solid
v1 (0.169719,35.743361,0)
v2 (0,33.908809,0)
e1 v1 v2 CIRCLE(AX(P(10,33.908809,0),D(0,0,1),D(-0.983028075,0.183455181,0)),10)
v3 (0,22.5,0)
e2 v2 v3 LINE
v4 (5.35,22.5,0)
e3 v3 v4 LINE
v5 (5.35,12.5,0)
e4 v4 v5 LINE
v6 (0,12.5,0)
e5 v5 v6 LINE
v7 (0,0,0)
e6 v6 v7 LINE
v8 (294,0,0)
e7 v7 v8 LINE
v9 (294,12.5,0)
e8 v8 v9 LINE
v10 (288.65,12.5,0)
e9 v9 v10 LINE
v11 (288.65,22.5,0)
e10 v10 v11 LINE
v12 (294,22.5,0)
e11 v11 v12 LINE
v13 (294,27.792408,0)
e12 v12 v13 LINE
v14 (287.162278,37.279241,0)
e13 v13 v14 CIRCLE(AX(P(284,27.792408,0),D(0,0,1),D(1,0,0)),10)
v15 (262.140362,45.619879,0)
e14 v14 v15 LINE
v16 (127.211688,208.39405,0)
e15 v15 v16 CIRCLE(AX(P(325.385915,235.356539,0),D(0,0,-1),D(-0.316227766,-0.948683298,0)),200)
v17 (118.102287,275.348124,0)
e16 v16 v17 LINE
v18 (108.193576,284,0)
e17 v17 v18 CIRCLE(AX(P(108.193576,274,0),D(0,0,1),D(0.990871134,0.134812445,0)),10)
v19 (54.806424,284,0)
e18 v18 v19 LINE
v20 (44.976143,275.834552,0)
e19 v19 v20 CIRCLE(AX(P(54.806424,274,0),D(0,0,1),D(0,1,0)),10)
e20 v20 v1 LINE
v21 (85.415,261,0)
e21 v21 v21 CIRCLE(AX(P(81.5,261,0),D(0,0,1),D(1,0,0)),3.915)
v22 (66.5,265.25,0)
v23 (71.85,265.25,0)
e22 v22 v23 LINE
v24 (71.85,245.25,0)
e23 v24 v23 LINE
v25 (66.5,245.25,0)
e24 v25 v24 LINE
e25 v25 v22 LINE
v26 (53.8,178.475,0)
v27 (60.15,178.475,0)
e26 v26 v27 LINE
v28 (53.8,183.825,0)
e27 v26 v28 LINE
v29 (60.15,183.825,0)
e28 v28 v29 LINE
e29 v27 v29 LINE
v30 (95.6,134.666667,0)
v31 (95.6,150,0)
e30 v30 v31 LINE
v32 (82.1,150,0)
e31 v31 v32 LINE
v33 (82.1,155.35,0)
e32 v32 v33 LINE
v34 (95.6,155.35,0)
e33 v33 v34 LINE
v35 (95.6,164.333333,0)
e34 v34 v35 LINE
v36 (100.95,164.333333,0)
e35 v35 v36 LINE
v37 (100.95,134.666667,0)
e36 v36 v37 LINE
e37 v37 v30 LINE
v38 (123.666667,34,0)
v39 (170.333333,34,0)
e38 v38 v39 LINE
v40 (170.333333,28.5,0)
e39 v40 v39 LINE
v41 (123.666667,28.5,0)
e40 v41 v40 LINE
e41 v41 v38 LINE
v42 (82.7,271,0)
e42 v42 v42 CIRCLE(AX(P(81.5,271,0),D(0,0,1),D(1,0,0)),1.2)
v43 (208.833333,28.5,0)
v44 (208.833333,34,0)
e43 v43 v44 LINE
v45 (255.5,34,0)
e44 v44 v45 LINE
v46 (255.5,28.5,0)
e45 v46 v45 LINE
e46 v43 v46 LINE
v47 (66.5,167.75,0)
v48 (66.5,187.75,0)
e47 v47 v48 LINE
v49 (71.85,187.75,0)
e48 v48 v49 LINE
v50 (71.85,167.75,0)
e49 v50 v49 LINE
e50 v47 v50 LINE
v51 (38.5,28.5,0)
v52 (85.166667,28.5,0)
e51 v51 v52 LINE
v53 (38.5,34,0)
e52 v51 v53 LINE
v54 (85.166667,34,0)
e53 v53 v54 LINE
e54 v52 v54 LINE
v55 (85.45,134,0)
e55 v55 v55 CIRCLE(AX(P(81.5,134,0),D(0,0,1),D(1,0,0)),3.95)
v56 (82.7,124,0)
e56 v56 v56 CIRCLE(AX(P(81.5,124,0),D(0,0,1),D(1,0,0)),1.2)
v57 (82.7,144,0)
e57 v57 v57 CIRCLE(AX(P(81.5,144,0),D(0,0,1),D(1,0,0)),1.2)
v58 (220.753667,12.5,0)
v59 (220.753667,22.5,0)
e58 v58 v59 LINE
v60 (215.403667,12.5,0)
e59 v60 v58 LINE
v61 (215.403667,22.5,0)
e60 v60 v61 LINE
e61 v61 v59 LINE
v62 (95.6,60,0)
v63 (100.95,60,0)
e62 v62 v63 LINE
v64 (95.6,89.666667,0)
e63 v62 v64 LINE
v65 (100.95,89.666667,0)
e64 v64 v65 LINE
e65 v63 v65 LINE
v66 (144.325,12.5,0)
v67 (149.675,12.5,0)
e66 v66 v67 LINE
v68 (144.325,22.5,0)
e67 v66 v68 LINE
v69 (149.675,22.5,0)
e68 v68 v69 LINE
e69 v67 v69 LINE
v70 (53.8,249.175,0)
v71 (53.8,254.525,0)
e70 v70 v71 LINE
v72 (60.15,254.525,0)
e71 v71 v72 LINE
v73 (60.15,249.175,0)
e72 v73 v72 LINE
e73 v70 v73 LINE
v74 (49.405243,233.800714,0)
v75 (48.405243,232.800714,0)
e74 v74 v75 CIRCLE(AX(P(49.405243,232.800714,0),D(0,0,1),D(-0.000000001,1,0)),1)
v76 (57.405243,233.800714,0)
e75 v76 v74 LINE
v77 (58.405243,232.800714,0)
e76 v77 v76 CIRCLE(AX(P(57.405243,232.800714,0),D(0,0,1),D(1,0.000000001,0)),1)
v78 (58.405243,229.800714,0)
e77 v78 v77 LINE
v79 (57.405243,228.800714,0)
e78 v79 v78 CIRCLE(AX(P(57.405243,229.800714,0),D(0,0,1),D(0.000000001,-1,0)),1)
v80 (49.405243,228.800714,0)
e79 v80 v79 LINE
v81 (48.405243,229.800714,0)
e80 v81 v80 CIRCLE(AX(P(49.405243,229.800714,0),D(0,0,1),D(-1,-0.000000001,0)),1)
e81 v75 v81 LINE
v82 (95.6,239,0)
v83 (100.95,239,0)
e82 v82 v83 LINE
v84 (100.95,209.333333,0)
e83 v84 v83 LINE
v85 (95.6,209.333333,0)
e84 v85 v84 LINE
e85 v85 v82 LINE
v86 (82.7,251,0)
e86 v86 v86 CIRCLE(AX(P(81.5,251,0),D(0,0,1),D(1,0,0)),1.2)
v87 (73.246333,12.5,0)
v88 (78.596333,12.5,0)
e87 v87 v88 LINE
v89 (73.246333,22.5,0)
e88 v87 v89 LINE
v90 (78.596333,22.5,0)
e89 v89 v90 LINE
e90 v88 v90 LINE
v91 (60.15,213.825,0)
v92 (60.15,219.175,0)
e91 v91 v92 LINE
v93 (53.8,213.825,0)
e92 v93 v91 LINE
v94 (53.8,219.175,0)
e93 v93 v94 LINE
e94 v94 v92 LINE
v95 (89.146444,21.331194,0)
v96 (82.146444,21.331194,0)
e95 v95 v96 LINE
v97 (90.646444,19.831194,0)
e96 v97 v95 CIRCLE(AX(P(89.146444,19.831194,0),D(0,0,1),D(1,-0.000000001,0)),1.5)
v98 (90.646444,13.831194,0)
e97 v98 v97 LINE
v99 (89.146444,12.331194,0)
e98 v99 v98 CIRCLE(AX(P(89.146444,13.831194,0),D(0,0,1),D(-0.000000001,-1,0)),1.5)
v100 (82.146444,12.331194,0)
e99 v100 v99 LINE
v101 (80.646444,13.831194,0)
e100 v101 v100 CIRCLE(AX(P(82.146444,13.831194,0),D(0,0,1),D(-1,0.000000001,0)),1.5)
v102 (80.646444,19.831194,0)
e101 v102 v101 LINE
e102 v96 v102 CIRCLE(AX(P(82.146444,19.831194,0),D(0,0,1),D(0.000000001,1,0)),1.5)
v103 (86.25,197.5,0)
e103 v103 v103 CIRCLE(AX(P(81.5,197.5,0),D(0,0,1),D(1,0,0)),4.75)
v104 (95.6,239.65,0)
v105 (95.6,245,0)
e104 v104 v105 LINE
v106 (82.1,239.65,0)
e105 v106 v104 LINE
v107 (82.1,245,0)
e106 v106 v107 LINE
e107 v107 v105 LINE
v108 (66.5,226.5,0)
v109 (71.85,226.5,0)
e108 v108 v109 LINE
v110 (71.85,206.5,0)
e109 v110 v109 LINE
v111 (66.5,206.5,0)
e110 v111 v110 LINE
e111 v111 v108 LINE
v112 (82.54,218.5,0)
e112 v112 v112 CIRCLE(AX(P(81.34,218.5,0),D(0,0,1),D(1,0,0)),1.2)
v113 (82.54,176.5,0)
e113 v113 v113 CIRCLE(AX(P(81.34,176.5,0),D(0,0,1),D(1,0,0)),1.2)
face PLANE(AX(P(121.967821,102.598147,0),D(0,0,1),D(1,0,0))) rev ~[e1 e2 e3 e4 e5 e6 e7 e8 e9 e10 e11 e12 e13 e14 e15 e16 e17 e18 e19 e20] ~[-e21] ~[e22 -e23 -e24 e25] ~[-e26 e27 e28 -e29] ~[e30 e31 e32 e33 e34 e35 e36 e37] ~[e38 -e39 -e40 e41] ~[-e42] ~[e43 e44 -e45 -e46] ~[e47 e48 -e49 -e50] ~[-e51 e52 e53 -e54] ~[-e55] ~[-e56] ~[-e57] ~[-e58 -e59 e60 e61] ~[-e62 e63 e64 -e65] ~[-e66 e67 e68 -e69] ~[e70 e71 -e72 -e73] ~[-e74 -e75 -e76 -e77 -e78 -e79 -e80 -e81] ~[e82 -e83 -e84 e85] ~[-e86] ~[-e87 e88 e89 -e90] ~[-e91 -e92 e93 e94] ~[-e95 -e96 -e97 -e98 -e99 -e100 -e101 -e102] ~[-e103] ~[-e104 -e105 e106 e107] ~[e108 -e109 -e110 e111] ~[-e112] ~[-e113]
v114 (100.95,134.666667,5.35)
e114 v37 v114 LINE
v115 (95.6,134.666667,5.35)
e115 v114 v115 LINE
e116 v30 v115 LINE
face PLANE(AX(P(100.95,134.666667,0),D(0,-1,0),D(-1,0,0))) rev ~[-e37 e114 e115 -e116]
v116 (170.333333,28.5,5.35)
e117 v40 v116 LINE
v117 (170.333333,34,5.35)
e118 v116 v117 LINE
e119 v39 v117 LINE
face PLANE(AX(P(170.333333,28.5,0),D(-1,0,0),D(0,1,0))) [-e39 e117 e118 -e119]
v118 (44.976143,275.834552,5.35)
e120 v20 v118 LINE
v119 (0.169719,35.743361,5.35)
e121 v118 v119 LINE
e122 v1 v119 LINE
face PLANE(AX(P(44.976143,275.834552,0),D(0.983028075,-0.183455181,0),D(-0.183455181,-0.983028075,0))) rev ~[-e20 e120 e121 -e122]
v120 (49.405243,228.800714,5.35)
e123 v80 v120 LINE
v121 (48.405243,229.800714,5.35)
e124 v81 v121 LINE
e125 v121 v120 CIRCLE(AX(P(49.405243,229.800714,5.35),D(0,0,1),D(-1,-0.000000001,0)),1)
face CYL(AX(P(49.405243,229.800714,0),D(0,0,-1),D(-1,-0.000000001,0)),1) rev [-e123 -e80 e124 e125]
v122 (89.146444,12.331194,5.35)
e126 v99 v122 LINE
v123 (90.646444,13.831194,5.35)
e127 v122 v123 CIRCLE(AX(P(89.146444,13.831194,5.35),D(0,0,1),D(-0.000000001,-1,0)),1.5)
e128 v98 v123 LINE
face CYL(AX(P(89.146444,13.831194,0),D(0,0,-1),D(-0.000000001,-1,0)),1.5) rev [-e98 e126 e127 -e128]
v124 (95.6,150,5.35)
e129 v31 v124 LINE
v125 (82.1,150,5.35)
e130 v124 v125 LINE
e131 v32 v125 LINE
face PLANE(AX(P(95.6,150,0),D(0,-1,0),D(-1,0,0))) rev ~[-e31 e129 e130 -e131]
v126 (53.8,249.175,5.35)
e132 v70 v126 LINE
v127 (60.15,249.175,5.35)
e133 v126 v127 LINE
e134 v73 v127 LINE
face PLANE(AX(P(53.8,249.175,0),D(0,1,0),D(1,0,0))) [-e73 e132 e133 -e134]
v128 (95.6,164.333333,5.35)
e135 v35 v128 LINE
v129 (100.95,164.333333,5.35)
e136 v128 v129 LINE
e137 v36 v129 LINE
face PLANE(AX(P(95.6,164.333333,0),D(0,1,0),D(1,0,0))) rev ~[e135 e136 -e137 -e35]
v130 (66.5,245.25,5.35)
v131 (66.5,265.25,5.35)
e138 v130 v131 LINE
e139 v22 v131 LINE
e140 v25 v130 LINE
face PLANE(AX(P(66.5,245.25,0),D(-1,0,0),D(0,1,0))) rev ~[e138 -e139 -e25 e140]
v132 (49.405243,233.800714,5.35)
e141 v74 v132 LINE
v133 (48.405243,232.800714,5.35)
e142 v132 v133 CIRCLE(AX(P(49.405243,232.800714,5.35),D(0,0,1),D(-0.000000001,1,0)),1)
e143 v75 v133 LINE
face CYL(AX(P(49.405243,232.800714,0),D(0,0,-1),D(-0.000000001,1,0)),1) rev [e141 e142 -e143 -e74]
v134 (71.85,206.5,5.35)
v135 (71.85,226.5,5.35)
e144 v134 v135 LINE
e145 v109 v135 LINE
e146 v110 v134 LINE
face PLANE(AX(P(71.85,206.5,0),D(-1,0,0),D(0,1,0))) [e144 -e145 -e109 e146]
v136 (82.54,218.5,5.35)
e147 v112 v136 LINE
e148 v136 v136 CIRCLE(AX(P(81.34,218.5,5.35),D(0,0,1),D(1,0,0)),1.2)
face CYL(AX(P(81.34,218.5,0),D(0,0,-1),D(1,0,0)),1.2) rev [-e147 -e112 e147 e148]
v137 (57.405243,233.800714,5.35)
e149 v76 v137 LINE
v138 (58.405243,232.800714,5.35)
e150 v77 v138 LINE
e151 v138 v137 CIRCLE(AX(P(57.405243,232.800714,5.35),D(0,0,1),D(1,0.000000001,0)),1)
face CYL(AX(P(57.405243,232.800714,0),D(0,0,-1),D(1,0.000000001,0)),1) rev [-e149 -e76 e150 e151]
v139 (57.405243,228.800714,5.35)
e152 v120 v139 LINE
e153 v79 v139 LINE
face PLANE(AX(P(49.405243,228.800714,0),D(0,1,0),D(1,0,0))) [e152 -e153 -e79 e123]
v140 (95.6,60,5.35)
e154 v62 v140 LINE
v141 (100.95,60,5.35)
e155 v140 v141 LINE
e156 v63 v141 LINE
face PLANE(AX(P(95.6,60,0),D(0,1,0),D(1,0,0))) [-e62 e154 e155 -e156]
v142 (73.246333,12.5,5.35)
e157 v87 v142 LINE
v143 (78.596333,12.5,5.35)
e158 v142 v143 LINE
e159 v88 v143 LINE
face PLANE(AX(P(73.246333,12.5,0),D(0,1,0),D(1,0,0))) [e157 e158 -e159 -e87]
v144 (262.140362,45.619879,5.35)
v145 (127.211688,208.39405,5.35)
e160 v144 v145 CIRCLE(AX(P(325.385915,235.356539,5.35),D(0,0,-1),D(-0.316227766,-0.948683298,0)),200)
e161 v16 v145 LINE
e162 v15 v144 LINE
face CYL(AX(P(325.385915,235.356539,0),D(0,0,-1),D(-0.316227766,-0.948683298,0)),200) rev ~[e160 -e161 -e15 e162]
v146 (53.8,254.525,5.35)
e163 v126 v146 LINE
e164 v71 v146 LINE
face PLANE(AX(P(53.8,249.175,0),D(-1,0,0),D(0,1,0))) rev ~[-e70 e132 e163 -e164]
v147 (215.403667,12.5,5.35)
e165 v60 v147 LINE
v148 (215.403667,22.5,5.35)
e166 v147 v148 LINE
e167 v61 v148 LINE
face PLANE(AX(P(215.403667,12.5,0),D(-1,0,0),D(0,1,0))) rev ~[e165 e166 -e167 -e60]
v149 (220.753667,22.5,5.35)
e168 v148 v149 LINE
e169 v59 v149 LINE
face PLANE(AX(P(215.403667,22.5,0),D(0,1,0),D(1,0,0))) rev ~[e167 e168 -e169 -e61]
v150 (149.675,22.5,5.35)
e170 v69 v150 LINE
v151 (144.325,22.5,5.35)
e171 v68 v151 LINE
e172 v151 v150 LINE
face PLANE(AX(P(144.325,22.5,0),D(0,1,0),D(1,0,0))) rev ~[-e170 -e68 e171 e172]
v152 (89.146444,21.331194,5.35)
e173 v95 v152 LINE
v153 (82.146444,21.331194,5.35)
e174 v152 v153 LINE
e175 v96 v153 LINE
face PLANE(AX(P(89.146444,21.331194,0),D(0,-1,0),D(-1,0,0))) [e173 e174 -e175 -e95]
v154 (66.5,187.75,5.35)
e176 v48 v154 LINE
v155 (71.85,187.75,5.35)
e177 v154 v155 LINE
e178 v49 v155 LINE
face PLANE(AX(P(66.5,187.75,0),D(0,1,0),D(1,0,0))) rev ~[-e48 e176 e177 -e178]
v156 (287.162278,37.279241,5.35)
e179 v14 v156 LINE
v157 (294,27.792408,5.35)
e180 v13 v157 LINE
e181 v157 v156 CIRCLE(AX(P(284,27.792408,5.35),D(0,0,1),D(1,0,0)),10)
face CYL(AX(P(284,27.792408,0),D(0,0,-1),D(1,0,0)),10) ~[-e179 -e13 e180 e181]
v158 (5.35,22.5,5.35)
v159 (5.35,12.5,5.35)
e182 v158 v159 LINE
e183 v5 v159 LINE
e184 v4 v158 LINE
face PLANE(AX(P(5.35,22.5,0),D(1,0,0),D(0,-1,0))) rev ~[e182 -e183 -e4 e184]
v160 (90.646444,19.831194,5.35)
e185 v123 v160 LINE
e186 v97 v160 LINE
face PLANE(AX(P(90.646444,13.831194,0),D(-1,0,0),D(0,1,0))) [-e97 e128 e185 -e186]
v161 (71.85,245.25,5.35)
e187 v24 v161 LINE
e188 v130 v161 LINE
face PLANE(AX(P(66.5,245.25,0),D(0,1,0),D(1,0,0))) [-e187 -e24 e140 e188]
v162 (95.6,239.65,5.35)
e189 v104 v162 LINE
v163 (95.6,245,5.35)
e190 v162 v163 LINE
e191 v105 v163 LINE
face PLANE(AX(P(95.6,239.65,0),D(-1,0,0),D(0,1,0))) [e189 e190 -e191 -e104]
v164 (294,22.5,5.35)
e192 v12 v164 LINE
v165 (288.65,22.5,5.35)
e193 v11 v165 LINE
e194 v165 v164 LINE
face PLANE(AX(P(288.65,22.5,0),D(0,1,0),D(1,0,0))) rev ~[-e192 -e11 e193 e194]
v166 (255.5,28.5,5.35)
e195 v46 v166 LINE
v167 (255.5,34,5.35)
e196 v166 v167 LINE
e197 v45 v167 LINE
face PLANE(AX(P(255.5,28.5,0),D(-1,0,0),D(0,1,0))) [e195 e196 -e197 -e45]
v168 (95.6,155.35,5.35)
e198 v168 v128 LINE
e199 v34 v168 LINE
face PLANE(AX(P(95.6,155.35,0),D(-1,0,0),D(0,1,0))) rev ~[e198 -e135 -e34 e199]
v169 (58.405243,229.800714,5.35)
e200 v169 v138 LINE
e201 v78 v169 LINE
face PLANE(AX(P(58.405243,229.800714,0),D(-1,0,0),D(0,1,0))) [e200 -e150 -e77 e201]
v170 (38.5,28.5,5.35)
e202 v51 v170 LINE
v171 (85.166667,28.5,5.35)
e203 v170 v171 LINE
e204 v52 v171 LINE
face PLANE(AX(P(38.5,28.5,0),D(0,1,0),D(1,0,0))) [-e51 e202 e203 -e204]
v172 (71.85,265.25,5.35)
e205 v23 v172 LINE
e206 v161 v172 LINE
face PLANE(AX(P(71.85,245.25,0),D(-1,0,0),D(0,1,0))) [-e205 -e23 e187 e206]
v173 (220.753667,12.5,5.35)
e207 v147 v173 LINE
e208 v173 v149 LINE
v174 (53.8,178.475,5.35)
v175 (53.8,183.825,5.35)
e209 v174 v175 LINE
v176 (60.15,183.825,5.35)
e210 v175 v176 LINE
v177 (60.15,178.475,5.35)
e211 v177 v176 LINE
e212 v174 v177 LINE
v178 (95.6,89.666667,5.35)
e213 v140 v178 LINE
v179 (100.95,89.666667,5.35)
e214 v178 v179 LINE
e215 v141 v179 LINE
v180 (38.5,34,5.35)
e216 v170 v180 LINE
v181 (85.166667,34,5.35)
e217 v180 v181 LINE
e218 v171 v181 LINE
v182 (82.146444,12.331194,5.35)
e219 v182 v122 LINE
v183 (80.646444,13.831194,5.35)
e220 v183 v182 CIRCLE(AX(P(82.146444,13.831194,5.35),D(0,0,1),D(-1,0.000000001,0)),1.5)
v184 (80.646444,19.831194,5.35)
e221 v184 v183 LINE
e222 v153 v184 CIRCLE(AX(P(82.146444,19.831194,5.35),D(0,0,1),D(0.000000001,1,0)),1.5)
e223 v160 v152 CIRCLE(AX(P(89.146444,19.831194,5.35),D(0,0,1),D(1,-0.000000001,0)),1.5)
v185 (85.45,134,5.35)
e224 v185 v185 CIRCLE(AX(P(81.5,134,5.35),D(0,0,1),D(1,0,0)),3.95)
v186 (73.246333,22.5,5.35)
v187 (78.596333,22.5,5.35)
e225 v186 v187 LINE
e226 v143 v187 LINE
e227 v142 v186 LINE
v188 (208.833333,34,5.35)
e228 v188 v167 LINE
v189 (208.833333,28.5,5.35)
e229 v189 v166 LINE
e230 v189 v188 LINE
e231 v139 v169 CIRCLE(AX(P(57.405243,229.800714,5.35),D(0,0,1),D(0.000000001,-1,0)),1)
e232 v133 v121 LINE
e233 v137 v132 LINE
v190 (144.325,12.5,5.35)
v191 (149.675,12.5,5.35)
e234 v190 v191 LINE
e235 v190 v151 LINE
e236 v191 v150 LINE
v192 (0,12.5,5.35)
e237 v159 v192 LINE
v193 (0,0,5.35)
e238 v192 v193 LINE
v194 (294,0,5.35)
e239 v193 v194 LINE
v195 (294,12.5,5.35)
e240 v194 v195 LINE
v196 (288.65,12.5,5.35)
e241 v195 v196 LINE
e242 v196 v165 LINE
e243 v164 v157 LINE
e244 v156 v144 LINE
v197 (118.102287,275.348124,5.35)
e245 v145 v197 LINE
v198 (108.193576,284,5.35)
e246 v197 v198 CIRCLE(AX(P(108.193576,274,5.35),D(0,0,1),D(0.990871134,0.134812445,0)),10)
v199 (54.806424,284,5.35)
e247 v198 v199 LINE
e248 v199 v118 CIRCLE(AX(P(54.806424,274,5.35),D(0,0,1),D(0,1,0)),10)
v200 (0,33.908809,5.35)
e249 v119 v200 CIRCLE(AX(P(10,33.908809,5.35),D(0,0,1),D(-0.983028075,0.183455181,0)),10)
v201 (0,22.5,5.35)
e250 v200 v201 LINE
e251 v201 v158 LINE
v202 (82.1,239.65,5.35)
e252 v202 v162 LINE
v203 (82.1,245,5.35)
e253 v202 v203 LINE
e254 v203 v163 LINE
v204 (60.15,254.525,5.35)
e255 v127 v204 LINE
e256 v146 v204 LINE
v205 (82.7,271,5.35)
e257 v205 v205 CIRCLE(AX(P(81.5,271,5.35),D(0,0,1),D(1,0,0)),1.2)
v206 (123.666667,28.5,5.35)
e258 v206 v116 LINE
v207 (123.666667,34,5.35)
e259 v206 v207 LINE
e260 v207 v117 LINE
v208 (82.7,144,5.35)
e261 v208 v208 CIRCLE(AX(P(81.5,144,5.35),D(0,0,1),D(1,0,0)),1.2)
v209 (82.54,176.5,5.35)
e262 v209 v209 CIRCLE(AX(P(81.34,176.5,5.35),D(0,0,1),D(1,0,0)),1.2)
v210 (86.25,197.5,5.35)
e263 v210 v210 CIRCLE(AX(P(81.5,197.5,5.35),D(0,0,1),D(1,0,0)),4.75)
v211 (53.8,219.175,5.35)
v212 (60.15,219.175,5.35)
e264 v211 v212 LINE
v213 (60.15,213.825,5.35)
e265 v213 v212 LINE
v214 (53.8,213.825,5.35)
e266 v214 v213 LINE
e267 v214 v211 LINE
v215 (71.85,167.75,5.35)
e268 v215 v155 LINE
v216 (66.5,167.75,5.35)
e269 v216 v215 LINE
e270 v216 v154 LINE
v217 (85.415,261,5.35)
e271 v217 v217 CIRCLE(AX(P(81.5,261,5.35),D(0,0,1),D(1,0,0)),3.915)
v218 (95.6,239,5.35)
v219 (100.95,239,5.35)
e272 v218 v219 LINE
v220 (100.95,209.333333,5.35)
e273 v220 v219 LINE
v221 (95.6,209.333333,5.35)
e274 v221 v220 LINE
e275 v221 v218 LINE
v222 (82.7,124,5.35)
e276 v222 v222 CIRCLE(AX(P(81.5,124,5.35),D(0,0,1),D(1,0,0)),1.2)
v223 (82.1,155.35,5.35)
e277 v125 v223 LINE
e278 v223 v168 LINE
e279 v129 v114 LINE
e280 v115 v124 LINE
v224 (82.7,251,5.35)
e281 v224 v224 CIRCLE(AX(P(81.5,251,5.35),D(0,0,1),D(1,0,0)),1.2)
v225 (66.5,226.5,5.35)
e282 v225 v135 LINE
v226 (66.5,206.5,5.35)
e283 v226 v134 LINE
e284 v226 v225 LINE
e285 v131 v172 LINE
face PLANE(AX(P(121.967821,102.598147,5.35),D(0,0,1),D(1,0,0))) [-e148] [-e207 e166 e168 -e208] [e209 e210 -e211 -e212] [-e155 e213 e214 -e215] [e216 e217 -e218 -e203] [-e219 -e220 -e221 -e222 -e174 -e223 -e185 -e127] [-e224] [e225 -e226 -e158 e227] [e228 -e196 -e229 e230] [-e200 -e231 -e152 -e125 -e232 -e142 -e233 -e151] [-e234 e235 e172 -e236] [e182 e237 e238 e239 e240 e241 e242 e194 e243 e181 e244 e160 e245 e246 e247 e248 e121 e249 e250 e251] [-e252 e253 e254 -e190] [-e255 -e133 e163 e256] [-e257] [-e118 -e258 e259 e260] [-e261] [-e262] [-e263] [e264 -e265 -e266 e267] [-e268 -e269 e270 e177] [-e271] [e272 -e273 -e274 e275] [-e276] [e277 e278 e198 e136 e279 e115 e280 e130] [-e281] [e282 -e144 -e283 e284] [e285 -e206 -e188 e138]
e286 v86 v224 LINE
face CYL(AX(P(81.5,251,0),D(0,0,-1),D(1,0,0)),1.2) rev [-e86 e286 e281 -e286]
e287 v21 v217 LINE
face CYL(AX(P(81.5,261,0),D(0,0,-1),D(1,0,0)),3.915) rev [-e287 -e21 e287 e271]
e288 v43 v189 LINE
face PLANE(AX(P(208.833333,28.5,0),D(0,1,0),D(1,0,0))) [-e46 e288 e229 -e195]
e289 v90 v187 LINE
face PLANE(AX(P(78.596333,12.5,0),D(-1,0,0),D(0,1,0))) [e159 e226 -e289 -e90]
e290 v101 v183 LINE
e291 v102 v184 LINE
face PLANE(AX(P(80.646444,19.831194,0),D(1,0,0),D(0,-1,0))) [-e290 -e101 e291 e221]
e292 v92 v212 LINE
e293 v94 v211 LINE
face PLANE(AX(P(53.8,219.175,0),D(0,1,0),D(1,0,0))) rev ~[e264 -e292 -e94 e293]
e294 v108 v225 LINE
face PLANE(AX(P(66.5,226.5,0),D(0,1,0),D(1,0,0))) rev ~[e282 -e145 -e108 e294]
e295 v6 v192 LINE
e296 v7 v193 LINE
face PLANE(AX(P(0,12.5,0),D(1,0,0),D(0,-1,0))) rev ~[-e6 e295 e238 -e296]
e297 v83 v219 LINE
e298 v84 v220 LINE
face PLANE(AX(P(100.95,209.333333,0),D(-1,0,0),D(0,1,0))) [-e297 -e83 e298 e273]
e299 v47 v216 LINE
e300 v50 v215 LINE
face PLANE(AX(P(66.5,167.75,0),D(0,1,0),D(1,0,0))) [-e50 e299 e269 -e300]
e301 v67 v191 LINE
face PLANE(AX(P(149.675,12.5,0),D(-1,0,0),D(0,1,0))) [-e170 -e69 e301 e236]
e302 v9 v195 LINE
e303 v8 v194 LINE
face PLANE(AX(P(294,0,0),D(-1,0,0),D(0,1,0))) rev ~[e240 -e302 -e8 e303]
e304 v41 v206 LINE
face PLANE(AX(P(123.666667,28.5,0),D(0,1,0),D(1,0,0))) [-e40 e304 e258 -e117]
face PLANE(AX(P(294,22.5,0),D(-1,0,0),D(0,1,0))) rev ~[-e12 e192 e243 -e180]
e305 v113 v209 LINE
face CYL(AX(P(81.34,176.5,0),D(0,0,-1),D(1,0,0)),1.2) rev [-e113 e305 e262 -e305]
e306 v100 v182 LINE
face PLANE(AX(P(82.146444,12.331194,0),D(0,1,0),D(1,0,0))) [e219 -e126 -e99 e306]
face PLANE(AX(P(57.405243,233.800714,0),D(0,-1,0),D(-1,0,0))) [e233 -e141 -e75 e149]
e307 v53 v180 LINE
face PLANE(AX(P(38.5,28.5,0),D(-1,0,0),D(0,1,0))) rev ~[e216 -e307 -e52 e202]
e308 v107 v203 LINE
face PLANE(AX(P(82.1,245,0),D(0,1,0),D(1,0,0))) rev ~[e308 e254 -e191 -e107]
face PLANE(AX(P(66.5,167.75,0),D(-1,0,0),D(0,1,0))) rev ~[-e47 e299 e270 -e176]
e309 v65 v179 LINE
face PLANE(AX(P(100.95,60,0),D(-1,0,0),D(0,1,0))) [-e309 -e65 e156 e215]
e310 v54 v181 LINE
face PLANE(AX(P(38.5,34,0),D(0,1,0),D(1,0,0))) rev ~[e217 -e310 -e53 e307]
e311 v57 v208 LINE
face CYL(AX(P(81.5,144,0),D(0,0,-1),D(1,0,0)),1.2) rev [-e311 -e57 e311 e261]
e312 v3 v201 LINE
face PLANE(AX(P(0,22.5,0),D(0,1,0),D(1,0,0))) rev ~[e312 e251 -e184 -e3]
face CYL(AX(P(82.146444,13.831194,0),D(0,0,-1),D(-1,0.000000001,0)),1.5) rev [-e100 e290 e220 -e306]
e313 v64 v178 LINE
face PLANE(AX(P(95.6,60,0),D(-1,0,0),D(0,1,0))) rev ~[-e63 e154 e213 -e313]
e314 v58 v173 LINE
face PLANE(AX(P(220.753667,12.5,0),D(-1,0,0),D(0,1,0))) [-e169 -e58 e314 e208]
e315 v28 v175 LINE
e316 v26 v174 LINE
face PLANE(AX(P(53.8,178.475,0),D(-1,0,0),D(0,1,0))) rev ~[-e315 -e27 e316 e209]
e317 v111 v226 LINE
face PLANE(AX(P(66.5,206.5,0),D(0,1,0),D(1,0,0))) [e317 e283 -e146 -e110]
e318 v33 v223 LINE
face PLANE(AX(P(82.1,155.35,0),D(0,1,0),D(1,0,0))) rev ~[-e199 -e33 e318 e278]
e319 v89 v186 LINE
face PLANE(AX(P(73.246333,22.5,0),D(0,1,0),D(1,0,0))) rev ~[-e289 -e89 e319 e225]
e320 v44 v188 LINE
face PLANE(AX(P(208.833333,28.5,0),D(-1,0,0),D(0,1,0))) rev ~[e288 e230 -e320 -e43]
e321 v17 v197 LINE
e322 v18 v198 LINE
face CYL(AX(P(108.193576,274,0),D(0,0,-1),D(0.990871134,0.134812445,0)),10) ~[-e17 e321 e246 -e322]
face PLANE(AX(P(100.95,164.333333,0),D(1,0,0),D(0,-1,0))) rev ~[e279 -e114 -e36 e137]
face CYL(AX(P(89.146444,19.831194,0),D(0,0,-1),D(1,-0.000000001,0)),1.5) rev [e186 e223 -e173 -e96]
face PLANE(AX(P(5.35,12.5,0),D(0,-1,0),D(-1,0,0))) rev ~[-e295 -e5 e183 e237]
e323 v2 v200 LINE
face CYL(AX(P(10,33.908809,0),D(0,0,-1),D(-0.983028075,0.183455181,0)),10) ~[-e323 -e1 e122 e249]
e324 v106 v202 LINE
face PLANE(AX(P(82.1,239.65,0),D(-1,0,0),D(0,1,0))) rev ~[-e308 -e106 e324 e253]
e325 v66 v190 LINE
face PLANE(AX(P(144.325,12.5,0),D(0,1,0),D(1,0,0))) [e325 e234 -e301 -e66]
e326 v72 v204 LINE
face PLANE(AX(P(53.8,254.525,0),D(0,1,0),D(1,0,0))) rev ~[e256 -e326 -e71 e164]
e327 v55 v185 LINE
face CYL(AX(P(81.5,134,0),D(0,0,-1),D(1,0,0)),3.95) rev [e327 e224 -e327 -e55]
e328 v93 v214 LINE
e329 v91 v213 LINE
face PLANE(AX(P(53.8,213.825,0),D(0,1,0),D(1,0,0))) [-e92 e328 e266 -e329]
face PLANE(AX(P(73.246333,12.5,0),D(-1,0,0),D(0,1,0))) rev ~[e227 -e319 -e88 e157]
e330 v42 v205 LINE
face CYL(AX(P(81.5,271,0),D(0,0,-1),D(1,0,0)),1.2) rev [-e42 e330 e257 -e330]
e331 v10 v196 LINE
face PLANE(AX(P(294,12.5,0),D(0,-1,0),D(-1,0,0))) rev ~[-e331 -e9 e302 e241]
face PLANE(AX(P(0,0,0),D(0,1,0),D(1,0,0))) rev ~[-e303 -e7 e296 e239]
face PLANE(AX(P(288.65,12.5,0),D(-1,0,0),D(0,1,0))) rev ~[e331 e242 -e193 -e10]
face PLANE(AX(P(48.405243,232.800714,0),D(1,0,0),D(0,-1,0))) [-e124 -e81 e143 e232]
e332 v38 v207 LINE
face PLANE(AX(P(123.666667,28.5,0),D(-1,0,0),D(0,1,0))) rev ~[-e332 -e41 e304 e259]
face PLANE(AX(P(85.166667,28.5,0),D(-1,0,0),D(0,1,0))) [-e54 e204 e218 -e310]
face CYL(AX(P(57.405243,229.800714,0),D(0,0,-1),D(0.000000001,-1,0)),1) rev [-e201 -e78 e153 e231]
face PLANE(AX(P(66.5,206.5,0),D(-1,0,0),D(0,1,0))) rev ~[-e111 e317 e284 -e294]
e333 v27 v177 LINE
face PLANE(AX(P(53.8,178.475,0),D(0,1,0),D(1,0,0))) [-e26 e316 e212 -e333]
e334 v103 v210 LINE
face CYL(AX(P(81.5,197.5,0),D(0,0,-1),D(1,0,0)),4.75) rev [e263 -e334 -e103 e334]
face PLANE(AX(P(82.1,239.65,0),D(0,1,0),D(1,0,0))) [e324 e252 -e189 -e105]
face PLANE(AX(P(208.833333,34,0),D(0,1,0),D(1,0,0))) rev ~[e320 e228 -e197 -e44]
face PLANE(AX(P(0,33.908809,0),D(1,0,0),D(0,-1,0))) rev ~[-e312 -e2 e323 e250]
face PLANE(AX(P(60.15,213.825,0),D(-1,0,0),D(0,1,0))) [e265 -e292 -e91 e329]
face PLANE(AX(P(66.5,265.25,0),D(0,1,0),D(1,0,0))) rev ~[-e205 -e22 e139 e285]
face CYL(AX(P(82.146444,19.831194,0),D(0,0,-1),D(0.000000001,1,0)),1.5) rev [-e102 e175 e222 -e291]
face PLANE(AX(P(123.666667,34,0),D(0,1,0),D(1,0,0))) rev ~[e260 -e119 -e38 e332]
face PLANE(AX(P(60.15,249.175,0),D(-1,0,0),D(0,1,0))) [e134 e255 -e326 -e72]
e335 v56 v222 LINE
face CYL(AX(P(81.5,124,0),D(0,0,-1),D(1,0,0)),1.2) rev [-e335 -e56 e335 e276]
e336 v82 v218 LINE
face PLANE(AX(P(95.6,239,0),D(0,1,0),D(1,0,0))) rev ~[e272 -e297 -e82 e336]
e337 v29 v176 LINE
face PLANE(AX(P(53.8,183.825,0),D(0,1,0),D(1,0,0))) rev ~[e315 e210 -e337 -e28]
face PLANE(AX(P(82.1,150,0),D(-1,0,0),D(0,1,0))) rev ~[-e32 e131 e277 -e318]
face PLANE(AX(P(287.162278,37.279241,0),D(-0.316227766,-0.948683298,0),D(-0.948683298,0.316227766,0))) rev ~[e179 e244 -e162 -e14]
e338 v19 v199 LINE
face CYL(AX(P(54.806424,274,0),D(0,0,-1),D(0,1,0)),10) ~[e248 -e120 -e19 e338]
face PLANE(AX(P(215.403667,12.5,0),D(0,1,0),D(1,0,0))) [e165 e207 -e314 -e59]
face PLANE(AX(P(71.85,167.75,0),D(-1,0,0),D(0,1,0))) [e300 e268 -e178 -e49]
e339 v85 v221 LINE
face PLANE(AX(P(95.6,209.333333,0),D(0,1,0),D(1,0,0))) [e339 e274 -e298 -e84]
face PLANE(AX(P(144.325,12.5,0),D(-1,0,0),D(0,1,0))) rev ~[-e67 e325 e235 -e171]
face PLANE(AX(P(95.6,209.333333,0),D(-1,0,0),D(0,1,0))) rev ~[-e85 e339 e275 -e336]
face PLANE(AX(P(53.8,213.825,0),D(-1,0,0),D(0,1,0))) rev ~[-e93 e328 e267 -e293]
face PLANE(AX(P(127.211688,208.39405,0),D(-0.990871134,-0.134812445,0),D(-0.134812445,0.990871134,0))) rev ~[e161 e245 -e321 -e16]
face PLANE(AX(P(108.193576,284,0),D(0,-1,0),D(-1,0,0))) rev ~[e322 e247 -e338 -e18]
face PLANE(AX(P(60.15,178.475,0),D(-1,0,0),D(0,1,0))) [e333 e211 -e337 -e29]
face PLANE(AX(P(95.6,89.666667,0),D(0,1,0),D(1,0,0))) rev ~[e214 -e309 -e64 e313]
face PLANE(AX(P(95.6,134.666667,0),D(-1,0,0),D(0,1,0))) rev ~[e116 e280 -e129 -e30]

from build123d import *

# Parameters (mm, degrees)
MODEL_R             = 3.915
MODEL_R_2           = 3.95
MODEL_R_3           = 4.75
MODEL_R_4           = 1.2
MODEL_W             = 46.666666667
MODEL_H             = 5.5
MODEL_W_2           = 46.666666666
MODEL_W_3           = 5.35
MODEL_H_2           = 10
MODEL_H_3           = 20
MODEL_W_4           = 6.35
MODEL_H_4           = 5.35
MODEL_W_5           = 13.5
MODEL_H_5           = 29.666666667
BOSS_EXTRUDE1_DEPTH = 5.35


with BuildPart() as part:
    # Model → Boss-Extrude1 (new body)
    with BuildSketch(Plane.XY):
        with BuildLine():
            Line((44.976143444, 275.834551812), (0.169719249, 35.743360969))
            ThreePointArc((0.169719249, 35.743360969), (0.042520211, 34.830001994), (0, 33.908809156))
            Line((0, 33.908809156), (0, 22.5))
            Line((0, 22.5), (5.35, 22.5))
            Line((5.35, 22.5), (5.35, 12.5))
            Line((5.35, 12.5), (0, 12.5))
            Line((0, 12.5), (0, 0))
            Line((0, 0), (294, 0))
            Line((294, 0), (294, 12.5))
            Line((294, 12.5), (288.65, 12.5))
            Line((288.65, 12.5), (288.65, 22.5))
            Line((288.65, 22.5), (294, 22.5))
            Line((294, 22.5), (294, 27.7924078))
            ThreePointArc((294, 27.7924078), (292.112421852, 33.639510646), (287.16227766, 37.27924078))
            Line((287.16227766, 37.27924078), (262.140361786, 45.619879405))
            ThreePointArc((262.140361786, 45.619879405), (171.408861505, 107.720074789), (127.211688148, 208.394049963))
            Line((127.211688148, 208.394049963), (118.102287147, 275.348124452))
            ThreePointArc((118.102287147, 275.348124452), (114.770761961, 281.532637139), (108.193575805, 284))
            Line((108.193575805, 284), (54.806424195, 284))
            ThreePointArc((54.806424195, 284), (48.416804415, 281.692383185), (44.976143444, 275.834551812))
        make_face()
        with Locations((81.5, 261)):
            Circle(MODEL_R, mode=Mode.SUBTRACT)
        with Locations((81.5, 134)):
            Circle(MODEL_R_2, mode=Mode.SUBTRACT)
        with Locations((81.5, 197.5)):
            Circle(MODEL_R_3, mode=Mode.SUBTRACT)
        with Locations((81.5, 144)):
            Circle(MODEL_R_4, mode=Mode.SUBTRACT)
        with Locations((81.5, 124)):
            Circle(MODEL_R_4, mode=Mode.SUBTRACT)
        with Locations((81.5, 271)):
            Circle(MODEL_R_4, mode=Mode.SUBTRACT)
        with Locations((81.5, 251)):
            Circle(MODEL_R_4, mode=Mode.SUBTRACT)
        with Locations((81.34, 218.5)):
            Circle(MODEL_R_4, mode=Mode.SUBTRACT)
        with Locations((81.34, 176.5)):
            Circle(MODEL_R_4, mode=Mode.SUBTRACT)
        with Locations((232.166666667, 31.25)):
            Rectangle(MODEL_W, MODEL_H, mode=Mode.SUBTRACT)
        with Locations((147, 31.25)):
            Rectangle(MODEL_W_2, MODEL_H, mode=Mode.SUBTRACT)
        with Locations((61.833333334, 31.25)):
            Rectangle(MODEL_W, MODEL_H, mode=Mode.SUBTRACT)
        with Locations((218.078666667, 17.5)):
            Rectangle(MODEL_W_3, MODEL_H_2, mode=Mode.SUBTRACT)
        with Locations((147, 17.5)):
            Rectangle(MODEL_W_3, MODEL_H_2, mode=Mode.SUBTRACT)
        with Locations((75.921333333, 17.5)):
            Rectangle(MODEL_W_3, MODEL_H_2, mode=Mode.SUBTRACT)
        with Locations((69.175, 177.75)):
            Rectangle(MODEL_W_3, MODEL_H_3, mode=Mode.SUBTRACT)
        with Locations((56.975, 181.15)):
            Rectangle(MODEL_W_4, MODEL_H_4, mode=Mode.SUBTRACT)
        with Locations((56.975, 216.5)):
            Rectangle(MODEL_W_4, MODEL_H_4, mode=Mode.SUBTRACT)
        with Locations((69.175, 216.5)):
            Rectangle(MODEL_W_3, MODEL_H_3, mode=Mode.SUBTRACT)
        with Locations((56.975, 251.85)):
            Rectangle(MODEL_W_4, MODEL_H_4, mode=Mode.SUBTRACT)
        with Locations((69.175, 255.25)):
            Rectangle(MODEL_W_3, MODEL_H_3, mode=Mode.SUBTRACT)
        with Locations((88.85, 242.325)):
            Rectangle(MODEL_W_5, MODEL_H_4, mode=Mode.SUBTRACT)
        with Locations((98.275, 74.833333334)):
            Rectangle(MODEL_W_3, MODEL_H_5, mode=Mode.SUBTRACT)
        with Locations((98.275, 224.166666667)):
            Rectangle(MODEL_W_3, MODEL_H_5, mode=Mode.SUBTRACT)
        Polygon((95.6, 164.333333333), (100.95, 164.333333333), (100.95, 134.666666667), (95.6, 134.666666667), (95.6, 150), (82.1, 150), (82.1, 155.35), (95.6, 155.35), align=None, mode=Mode.SUBTRACT)
        with BuildLine():
            Line((58.40524288, 229.800713661), (58.40524288, 232.800713661))
            ThreePointArc((58.40524288, 232.800713661), (58.112349661, 233.507820442), (57.40524288, 233.800713661))
            Line((57.40524288, 233.800713661), (49.40524288, 233.800713661))
            ThreePointArc((49.40524288, 233.800713661), (48.698136099, 233.507820442), (48.40524288, 232.800713661))
            Line((48.40524288, 232.800713661), (48.40524288, 229.800713661))
            ThreePointArc((48.40524288, 229.800713661), (48.698136099, 229.09360688), (49.40524288, 228.800713661))
            Line((49.40524288, 228.800713661), (57.40524288, 228.800713661))
            ThreePointArc((57.40524288, 228.800713661), (58.112349661, 229.09360688), (58.40524288, 229.800713661))
        make_face(mode=Mode.SUBTRACT)
        with BuildLine():
            Line((90.646444024, 13.83119442), (90.646444024, 19.83119442))
            ThreePointArc((90.646444024, 19.83119442), (90.207104196, 20.891854592), (89.146444024, 21.33119442))
            Line((89.146444024, 21.33119442), (82.146444024, 21.33119442))
            ThreePointArc((82.146444024, 21.33119442), (81.085783852, 20.891854592), (80.646444024, 19.83119442))
            Line((80.646444024, 19.83119442), (80.646444024, 13.83119442))
            ThreePointArc((80.646444024, 13.83119442), (81.085783852, 12.770534248), (82.146444024, 12.33119442))
            Line((82.146444024, 12.33119442), (89.146444024, 12.33119442))
            ThreePointArc((89.146444024, 12.33119442), (90.207104196, 12.770534248), (90.646444024, 13.83119442))
        make_face(mode=Mode.SUBTRACT)
    extrude(amount=BOSS_EXTRUDE1_DEPTH)


solid = part.part
